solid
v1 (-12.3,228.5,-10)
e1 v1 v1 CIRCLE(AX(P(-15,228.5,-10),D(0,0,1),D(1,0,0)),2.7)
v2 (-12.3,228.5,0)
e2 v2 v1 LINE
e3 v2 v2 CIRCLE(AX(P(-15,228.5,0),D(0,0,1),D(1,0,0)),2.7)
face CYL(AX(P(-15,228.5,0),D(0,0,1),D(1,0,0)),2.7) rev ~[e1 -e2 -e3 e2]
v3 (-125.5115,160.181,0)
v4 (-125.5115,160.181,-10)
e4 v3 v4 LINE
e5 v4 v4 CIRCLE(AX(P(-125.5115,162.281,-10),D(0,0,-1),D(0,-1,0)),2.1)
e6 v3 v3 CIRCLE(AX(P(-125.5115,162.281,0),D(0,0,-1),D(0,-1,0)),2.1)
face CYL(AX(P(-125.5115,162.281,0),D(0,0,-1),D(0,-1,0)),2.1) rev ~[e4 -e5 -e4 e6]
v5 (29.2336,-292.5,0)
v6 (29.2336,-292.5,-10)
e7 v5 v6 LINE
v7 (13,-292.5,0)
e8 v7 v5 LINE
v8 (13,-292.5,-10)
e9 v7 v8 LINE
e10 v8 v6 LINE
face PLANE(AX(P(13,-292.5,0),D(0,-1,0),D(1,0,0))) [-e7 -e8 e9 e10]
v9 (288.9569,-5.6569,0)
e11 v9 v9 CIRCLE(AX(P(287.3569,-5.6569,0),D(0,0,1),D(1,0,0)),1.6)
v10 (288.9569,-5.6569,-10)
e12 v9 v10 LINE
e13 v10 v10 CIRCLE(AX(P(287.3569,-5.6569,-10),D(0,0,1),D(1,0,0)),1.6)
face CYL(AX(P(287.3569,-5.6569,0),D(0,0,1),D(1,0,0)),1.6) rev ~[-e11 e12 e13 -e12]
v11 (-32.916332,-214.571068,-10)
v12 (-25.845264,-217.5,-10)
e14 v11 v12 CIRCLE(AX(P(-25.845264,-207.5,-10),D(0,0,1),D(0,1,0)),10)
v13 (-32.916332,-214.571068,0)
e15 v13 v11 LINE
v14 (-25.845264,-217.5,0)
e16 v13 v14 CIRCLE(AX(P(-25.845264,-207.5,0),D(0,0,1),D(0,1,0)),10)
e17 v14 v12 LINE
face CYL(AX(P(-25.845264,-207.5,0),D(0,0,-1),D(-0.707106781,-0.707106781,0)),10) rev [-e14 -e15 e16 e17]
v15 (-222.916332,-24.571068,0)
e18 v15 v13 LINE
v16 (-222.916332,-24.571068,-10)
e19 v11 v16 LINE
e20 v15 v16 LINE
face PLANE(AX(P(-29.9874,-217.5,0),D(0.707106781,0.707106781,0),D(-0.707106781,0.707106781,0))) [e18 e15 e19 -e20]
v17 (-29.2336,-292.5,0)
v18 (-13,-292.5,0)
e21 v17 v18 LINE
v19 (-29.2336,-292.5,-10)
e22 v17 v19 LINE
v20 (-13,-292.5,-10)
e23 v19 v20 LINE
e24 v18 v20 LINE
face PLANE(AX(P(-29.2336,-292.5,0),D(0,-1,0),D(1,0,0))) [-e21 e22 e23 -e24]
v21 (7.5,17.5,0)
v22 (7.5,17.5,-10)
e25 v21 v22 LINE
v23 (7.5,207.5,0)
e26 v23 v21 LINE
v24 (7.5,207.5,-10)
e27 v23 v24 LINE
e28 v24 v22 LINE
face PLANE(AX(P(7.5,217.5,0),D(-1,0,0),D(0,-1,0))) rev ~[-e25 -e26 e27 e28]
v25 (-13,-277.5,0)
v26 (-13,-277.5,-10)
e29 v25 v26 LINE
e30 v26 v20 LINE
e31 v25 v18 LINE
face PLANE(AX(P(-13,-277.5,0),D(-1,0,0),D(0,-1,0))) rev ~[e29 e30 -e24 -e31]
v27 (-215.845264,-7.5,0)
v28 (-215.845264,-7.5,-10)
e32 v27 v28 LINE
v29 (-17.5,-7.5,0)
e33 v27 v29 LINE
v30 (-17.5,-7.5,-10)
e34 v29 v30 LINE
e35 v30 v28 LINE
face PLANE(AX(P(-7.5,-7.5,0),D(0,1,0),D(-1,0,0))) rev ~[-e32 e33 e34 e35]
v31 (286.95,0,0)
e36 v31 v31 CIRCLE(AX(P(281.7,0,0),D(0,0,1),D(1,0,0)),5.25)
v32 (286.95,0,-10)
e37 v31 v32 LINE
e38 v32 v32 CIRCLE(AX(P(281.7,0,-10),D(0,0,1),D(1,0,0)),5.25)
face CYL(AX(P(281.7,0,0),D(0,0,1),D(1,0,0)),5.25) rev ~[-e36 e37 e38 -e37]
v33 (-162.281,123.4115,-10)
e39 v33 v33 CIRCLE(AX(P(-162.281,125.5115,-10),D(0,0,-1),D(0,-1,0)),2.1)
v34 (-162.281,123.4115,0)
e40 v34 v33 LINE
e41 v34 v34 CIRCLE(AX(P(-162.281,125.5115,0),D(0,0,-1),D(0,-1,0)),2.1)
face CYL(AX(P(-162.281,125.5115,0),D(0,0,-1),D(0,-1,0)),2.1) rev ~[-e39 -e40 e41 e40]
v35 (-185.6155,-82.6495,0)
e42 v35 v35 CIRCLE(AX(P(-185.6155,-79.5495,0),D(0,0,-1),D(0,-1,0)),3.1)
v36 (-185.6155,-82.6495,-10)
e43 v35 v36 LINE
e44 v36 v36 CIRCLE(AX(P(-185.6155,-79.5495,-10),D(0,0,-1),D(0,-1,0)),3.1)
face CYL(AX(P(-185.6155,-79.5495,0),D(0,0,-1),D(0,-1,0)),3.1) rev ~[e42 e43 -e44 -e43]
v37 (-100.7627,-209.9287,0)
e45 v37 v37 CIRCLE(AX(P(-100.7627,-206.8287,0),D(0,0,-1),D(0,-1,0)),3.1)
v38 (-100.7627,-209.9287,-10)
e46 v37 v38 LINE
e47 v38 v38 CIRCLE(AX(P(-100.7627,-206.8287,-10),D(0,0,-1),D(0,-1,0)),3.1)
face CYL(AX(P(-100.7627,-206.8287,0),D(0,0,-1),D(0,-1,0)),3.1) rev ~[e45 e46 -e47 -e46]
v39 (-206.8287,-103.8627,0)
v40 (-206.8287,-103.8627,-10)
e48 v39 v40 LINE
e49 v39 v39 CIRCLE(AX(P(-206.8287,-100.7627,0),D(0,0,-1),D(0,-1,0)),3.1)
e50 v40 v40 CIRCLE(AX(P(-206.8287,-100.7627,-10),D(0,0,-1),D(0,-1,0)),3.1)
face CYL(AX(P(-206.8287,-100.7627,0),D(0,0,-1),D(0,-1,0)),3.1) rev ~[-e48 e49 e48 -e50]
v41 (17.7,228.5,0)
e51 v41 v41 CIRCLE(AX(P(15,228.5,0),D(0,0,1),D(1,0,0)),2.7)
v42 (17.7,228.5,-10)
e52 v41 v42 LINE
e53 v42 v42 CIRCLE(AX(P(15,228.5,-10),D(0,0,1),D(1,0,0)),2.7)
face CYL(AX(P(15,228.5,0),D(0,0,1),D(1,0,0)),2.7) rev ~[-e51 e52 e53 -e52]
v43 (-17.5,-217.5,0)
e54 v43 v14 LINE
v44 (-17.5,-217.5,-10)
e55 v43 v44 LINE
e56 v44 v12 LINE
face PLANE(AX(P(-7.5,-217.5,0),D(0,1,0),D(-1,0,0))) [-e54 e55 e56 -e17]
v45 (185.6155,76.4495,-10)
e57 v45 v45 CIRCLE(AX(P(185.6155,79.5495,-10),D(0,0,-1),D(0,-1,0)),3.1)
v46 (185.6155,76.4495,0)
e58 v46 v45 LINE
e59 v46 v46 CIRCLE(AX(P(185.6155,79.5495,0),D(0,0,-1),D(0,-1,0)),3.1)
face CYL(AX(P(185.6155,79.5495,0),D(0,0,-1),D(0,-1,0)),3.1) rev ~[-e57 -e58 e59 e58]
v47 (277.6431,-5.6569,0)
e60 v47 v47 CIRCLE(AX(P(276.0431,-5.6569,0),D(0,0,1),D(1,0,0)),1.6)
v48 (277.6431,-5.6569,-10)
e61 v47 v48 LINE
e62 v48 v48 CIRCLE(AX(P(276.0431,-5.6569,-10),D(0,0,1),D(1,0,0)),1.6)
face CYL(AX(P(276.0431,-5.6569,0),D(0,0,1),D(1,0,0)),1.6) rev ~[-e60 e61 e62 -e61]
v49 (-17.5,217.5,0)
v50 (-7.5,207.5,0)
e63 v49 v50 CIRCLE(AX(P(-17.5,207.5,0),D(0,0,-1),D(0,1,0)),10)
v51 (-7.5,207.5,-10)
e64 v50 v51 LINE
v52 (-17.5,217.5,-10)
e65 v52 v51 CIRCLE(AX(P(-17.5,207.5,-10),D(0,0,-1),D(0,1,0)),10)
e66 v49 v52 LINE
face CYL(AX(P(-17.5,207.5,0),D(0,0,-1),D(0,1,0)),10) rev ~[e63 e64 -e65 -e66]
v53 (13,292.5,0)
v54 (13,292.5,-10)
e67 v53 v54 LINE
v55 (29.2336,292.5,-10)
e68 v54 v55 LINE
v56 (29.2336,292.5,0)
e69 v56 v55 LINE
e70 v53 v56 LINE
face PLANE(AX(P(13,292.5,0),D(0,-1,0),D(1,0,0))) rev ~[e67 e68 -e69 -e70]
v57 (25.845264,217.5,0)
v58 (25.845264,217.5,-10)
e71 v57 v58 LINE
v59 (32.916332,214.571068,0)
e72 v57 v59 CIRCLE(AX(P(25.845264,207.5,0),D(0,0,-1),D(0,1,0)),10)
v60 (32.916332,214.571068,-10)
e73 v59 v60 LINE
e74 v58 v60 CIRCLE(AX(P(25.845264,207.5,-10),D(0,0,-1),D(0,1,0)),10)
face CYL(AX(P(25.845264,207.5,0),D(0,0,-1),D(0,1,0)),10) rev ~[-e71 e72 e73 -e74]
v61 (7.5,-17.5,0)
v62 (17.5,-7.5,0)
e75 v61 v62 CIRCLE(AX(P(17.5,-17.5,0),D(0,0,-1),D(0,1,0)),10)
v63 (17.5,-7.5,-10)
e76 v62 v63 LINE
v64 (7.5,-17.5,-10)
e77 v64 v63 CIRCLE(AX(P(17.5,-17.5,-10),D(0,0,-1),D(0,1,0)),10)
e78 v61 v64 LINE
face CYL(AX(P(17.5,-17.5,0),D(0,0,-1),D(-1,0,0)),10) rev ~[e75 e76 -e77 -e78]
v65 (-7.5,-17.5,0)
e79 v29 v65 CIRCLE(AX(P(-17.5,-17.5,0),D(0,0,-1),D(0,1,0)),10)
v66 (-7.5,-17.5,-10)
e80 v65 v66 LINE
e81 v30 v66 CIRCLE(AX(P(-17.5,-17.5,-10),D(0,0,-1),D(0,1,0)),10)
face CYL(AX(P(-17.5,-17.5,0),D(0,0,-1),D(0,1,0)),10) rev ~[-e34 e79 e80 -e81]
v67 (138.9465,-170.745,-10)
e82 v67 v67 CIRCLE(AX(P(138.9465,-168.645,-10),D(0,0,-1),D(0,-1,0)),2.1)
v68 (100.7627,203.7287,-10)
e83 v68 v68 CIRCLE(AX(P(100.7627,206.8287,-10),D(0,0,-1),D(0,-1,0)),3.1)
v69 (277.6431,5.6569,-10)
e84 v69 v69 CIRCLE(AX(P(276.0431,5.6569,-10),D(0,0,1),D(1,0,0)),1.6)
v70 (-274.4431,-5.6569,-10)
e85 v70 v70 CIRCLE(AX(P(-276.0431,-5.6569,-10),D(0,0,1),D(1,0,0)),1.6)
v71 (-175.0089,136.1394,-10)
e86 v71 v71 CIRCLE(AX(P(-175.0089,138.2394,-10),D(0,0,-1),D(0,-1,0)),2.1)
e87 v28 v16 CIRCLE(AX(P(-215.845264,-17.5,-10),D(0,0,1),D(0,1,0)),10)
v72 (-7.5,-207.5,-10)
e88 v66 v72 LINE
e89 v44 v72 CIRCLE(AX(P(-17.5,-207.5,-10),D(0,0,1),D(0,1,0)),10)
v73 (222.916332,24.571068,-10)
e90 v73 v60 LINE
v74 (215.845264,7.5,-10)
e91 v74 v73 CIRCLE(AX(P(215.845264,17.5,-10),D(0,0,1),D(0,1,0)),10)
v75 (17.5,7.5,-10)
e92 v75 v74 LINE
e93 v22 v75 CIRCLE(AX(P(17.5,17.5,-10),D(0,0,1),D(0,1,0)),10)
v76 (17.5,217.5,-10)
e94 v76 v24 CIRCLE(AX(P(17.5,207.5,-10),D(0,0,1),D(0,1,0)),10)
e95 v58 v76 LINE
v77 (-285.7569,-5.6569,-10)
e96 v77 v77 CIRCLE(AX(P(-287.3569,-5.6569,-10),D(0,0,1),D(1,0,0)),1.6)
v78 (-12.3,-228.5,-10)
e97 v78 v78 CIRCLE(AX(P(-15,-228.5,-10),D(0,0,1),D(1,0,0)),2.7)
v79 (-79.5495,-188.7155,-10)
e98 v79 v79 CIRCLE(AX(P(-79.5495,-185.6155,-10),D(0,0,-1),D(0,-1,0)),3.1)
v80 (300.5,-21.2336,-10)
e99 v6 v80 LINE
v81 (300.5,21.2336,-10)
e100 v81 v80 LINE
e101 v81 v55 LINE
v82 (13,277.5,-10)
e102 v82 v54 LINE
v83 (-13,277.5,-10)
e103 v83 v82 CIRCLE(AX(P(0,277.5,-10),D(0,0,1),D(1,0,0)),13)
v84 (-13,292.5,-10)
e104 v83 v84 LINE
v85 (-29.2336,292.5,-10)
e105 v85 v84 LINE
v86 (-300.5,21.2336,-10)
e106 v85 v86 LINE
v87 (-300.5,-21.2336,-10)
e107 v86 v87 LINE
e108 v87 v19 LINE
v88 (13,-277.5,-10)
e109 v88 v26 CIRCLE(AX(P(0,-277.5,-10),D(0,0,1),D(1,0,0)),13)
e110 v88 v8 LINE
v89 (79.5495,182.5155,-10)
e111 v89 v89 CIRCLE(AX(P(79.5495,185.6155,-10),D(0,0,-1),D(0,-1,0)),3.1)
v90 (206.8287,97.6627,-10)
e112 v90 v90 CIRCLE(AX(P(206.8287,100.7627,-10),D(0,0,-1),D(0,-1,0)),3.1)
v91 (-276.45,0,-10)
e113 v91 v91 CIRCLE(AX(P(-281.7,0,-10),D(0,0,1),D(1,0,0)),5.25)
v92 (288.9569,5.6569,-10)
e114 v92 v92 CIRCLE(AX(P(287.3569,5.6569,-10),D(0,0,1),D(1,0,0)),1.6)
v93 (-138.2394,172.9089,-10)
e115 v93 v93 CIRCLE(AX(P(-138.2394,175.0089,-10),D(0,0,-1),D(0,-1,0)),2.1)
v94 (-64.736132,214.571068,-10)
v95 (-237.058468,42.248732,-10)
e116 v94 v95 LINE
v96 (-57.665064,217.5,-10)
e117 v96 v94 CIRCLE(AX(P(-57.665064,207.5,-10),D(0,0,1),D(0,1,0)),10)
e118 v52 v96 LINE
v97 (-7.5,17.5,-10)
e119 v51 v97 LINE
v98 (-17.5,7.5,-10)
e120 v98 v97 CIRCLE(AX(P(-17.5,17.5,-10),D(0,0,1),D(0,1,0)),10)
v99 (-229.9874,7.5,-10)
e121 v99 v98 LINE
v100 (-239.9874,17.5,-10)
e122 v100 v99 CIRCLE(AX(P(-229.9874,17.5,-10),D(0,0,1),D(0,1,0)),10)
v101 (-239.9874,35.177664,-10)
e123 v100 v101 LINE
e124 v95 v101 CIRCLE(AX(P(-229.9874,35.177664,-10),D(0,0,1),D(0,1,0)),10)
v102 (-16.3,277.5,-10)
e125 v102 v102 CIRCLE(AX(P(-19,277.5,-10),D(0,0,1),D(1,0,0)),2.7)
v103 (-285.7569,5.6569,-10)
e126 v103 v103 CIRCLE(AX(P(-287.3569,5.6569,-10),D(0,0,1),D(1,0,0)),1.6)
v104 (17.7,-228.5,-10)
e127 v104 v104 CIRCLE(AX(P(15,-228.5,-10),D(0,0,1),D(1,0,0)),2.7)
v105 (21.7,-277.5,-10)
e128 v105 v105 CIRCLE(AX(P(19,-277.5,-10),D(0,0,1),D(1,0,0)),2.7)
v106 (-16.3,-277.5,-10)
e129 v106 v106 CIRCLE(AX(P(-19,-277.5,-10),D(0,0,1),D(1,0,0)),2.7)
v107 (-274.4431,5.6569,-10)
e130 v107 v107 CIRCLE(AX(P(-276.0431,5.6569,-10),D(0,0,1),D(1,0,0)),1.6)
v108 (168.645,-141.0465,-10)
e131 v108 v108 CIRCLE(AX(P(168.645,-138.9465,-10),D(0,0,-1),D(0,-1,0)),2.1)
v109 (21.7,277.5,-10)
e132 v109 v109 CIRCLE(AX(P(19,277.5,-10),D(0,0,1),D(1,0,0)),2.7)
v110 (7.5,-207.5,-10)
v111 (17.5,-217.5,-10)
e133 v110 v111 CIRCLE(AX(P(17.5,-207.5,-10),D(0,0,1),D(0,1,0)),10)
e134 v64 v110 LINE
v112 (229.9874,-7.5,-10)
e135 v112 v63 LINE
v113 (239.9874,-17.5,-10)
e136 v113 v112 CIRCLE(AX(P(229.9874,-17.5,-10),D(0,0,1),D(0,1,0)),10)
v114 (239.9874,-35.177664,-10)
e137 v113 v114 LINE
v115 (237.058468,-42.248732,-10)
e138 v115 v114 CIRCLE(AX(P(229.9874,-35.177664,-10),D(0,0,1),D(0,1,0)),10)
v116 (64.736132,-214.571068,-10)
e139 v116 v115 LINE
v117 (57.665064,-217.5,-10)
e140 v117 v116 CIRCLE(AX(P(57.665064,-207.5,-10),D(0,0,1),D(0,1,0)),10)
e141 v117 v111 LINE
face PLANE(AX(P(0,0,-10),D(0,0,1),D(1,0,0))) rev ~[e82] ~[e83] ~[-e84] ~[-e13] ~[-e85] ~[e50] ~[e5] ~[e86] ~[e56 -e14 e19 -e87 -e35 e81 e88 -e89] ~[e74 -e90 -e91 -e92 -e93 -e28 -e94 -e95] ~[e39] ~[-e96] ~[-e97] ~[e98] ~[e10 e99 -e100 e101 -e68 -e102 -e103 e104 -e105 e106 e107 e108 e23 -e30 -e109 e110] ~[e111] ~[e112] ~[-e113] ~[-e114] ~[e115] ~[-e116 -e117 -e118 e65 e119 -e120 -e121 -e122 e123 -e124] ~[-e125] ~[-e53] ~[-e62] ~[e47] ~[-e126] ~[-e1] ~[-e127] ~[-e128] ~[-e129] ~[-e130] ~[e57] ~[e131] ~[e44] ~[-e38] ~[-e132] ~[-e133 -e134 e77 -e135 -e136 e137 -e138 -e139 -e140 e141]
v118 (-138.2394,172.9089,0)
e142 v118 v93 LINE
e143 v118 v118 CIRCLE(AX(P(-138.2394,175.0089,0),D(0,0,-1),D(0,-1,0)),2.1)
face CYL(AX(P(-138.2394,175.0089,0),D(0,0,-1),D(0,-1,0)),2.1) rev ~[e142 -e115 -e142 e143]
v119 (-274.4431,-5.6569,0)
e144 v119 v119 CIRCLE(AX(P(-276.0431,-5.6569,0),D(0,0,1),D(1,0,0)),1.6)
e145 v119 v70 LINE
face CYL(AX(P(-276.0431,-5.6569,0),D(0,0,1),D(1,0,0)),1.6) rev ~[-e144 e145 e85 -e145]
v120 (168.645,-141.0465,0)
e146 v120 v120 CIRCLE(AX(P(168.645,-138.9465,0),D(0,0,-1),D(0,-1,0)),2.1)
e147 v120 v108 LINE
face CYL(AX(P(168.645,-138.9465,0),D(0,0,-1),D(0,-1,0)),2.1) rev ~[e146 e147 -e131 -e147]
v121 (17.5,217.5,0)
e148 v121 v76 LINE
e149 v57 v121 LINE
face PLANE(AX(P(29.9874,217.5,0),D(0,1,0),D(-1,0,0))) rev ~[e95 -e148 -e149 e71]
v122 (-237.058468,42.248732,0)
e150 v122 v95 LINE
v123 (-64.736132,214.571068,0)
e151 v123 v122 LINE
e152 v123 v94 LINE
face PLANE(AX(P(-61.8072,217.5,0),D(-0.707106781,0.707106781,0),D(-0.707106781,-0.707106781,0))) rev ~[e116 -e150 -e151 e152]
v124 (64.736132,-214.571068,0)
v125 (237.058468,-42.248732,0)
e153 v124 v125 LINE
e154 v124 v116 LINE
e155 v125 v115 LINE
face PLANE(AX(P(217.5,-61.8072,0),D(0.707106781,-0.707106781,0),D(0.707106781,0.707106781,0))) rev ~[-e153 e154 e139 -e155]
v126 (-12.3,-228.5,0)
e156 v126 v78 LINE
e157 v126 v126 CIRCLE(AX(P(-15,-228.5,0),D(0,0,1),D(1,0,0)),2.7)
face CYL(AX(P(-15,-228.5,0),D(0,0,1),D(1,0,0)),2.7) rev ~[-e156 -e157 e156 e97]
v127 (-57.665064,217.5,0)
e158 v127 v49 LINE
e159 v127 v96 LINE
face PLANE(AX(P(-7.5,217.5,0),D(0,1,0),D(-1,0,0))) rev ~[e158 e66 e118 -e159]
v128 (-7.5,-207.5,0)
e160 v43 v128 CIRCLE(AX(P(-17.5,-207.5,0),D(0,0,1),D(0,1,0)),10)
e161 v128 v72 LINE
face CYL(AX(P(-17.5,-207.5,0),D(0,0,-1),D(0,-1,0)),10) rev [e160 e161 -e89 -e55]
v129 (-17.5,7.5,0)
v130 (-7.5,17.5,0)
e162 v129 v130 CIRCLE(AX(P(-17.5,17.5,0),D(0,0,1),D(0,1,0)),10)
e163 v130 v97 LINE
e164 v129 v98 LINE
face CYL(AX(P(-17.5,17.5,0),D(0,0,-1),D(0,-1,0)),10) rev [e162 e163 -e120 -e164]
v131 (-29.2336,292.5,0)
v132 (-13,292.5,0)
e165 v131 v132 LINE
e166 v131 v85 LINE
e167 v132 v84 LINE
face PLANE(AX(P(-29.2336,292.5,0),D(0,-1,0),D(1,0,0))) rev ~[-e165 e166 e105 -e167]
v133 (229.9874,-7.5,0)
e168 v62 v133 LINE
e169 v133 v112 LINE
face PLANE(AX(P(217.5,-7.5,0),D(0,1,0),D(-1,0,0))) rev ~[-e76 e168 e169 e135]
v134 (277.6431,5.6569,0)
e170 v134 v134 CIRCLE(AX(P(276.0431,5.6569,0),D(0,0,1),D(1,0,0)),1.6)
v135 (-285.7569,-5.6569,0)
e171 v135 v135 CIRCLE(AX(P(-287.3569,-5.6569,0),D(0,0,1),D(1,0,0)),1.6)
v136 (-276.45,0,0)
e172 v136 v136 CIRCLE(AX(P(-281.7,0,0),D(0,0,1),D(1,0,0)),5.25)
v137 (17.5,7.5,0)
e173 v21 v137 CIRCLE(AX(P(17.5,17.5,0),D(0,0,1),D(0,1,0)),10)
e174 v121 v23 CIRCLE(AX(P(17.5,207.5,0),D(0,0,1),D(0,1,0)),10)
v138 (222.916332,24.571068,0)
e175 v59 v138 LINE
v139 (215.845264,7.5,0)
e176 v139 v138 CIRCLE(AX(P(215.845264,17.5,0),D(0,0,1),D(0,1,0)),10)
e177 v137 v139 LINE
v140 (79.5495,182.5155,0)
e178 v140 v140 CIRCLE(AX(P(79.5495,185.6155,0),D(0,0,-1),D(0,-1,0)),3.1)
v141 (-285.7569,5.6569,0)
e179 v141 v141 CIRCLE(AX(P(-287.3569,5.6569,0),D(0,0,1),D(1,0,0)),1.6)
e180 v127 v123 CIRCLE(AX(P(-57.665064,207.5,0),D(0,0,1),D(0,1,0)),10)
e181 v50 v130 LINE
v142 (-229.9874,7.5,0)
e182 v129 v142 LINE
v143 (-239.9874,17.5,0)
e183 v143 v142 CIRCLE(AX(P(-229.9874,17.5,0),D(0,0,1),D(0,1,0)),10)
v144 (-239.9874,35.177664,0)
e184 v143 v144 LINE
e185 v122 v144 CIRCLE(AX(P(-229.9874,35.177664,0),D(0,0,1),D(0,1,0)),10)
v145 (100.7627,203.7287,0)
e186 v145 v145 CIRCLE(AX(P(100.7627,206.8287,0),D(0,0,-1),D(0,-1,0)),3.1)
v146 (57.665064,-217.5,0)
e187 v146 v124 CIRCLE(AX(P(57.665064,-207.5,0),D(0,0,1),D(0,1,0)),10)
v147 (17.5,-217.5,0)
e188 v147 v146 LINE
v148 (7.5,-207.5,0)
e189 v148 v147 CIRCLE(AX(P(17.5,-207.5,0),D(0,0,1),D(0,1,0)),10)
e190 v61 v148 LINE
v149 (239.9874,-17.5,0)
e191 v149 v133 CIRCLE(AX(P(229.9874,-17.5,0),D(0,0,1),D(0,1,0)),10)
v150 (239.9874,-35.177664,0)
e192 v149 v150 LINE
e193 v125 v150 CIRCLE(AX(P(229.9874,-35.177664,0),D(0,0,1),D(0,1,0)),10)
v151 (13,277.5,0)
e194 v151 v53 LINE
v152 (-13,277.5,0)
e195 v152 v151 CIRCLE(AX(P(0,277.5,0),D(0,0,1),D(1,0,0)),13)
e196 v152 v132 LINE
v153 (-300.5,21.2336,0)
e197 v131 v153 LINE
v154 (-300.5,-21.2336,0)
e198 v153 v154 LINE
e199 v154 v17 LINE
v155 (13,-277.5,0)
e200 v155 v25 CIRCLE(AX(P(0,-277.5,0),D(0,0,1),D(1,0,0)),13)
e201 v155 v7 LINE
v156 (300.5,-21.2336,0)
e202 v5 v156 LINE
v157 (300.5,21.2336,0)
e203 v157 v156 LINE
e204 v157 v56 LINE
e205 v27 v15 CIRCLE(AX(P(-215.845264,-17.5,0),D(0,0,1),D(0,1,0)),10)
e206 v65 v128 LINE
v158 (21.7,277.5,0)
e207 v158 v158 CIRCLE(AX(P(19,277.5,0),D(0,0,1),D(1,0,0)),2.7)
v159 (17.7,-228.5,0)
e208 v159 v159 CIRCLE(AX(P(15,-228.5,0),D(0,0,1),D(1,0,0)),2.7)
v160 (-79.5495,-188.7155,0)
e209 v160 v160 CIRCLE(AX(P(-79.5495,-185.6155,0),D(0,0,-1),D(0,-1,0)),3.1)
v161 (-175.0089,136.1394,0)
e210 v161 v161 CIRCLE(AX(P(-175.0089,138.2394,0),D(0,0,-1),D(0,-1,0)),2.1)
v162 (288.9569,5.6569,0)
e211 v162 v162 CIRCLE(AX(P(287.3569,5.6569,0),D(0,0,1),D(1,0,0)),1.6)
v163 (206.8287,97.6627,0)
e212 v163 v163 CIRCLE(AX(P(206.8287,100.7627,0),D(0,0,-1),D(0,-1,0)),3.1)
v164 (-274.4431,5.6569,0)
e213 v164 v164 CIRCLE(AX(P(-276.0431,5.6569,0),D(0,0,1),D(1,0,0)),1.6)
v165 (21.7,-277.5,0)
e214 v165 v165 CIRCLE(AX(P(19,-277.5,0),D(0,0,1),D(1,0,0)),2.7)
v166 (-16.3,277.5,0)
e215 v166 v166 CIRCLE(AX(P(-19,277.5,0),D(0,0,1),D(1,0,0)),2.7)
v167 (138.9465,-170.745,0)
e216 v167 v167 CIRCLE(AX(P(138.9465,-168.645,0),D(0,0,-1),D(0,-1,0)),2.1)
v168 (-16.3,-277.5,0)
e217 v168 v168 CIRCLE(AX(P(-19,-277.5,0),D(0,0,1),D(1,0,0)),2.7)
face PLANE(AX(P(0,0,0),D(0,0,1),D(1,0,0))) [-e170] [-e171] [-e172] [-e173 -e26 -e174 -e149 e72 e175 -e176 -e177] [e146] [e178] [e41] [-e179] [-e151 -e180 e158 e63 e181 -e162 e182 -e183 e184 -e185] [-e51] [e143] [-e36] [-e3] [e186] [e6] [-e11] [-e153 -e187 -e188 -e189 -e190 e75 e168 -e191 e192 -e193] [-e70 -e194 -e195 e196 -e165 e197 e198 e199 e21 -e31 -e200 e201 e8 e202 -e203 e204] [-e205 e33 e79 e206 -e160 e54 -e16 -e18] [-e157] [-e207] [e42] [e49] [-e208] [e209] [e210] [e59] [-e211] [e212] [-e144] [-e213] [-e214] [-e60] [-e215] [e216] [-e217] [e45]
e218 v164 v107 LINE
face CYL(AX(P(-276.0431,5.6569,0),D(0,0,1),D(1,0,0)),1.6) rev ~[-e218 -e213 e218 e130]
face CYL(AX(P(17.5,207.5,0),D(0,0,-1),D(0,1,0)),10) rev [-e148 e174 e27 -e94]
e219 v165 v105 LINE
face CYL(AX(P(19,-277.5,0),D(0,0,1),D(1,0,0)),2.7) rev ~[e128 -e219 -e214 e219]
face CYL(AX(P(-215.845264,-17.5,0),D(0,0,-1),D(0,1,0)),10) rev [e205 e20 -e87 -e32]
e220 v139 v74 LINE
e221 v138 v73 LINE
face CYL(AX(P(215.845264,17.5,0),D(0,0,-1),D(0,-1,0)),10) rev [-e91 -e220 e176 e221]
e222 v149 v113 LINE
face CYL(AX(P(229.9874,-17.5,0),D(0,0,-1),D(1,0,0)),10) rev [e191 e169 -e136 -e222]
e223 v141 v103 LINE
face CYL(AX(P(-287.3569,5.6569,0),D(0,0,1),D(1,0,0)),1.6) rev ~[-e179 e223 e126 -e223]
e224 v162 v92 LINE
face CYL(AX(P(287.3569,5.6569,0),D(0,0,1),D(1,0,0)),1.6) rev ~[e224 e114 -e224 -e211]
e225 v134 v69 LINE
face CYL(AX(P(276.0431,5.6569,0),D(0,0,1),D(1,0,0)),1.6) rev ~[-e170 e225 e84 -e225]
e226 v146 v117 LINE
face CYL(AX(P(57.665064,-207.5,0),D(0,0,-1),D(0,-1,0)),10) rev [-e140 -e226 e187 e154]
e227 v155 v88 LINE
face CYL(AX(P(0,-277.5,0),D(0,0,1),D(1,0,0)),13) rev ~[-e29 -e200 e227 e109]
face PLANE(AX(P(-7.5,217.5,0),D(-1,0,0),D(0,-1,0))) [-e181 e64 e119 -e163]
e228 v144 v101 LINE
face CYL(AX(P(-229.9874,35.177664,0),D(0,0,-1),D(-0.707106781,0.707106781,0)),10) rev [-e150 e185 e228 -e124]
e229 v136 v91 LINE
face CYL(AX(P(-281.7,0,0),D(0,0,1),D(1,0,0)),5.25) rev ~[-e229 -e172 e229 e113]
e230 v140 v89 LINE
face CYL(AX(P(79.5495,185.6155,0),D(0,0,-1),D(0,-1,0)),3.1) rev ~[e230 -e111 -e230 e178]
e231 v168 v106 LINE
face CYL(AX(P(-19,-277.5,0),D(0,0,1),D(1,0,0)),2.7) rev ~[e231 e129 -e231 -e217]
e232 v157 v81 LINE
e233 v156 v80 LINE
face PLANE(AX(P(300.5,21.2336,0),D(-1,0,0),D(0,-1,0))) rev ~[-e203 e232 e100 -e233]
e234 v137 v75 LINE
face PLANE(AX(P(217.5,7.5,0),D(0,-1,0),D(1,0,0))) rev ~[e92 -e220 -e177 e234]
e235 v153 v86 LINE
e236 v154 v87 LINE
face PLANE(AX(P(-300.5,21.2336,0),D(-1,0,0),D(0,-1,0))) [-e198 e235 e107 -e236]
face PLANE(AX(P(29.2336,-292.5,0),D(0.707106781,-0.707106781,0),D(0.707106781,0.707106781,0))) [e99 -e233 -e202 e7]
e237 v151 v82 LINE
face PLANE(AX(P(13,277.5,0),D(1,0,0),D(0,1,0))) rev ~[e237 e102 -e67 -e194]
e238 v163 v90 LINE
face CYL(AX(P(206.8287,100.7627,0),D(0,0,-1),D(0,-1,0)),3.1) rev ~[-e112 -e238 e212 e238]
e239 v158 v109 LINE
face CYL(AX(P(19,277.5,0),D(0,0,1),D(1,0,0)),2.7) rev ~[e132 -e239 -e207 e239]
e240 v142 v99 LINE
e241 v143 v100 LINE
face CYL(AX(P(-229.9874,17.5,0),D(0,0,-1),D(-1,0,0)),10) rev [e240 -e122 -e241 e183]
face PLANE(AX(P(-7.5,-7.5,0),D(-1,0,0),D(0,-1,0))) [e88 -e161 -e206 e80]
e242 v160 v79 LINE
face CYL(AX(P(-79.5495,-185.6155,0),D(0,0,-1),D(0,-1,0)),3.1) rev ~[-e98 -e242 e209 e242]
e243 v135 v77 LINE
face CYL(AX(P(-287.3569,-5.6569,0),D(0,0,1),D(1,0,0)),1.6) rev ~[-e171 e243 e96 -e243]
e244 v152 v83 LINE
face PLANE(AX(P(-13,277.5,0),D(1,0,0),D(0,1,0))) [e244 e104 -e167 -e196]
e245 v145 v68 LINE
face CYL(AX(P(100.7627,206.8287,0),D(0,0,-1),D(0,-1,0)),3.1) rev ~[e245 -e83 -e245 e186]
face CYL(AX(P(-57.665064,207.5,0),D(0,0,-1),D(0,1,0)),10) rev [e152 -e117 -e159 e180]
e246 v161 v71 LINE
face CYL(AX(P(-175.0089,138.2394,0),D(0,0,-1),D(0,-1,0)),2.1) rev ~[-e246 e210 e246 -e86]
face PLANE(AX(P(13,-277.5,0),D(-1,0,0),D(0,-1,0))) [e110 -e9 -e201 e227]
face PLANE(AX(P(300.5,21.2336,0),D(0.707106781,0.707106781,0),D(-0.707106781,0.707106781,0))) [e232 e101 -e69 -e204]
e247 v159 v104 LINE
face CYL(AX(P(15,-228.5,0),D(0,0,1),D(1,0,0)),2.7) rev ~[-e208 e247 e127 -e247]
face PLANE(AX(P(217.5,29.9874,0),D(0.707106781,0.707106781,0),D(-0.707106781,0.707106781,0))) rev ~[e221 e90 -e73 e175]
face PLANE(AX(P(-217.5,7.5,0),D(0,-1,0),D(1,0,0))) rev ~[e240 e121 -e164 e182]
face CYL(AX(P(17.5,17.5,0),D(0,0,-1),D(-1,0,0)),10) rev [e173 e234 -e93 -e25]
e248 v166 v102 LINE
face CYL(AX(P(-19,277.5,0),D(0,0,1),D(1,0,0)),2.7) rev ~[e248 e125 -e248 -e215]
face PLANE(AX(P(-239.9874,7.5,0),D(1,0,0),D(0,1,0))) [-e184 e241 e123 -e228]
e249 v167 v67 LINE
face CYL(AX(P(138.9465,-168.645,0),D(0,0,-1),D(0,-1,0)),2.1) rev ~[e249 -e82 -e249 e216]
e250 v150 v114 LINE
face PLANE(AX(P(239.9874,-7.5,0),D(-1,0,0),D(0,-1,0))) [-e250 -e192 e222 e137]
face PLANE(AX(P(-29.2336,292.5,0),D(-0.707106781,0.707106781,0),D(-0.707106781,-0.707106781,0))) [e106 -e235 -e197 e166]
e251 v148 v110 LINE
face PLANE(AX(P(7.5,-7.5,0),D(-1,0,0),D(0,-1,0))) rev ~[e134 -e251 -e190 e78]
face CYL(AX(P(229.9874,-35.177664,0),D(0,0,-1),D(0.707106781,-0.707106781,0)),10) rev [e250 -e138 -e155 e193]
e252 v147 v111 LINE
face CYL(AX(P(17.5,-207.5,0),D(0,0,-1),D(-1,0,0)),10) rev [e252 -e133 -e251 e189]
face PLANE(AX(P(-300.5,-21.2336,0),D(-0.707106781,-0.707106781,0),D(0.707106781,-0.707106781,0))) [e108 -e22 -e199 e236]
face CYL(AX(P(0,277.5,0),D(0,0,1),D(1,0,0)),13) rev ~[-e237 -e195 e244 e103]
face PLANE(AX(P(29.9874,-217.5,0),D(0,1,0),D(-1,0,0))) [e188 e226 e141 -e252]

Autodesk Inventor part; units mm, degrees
ref_plane "YZ Plane" through (0, 0, 0) normal (1, 0, 0) x (0, 1, 0)
ref_plane "XZ Plane" through (0, 0, 0) normal (0, 1, 0) x (-1, 0, 0)
sketch "Sketch2" plane through (0, 0, 0) normal (0, 0, 1) x (1, 0, 0)
  circle A0 centre (0, 277.5) radius 8 construction
  circle A1 centre (0, 277.5) radius 13
  circle A2 centre (0, 277.5) radius 10.5 construction
  line L0 (25, 287.5) -> (-25, 287.5) construction
  line L1 (-25, 287.5) -> (-25, 222.5) construction
  line L2 (-25, 222.5) -> (25, 222.5) construction
  line L3 (25, 222.5) -> (25, 287.5) construction
  circle A3 centre (15, 228.5) radius 2.7
  circle A4 centre (-15, 228.5) radius 2.7
  circle A5 centre (-19, 277.5) radius 2.7
  circle A6 centre (19, 277.5) radius 2.7
  circle A7 centre (0, -277.5) radius 8 construction
  circle A8 centre (0, -277.5) radius 13
  circle A9 centre (0, -277.5) radius 10.5 construction
  line L4 (25, -287.5) -> (-25, -287.5) construction
  line L5 (-25, -287.5) -> (-25, -222.5) construction
  line L6 (-25, -222.5) -> (25, -222.5) construction
  line L7 (25, -222.5) -> (25, -287.5) construction
  circle A10 centre (-15, -228.5) radius 2.7
  circle A11 centre (15, -228.5) radius 2.7
  circle A12 centre (-19, -277.5) radius 2.7
  circle A13 centre (19, -277.5) radius 2.7
  line L8 (10.5, -277.5) -> (10.5, -287.5) construction
  line L9 (-10.5, -277.5) -> (-10.5, -287.5) construction
  line L10 (10.5, 277.5) -> (10.5, 287.5) construction
  line L11 (-10.5, 277.5) -> (-10.5, 287.5) construction
  circle A14 centre (281.7, 0) radius 5.25
  circle A15 centre (-281.7, 0) radius 5.25
  line L12 (0, -321.7336) -> (321.7336, 0)
  line L13 (321.7336, 0) -> (0, 321.7336)
  line L14 (0, 321.7336) -> (-321.7336, 0)
  line L15 (-321.7336, 0) -> (0, -321.7336)
  line L16 (321.7336, 0) -> (-321.7336, 0) construction
  line L17 (0, -321.7336) -> (455, -321.7336) construction
  line L18 (300.5, 21.2336) -> (300.5, -21.2336)
  line L19 (-300.5, 21.2336) -> (-300.5, -21.2336)
  line L20 (-24.2336, 297.5) -> (24.2336, 297.5) construction
  line L21 (-29.2336, 292.5) -> (29.2336, 292.5)
  line L22 (-24.2336, -297.5) -> (24.2336, -297.5) construction
  line L23 (-29.2336, -292.5) -> (29.2336, -292.5)
  line L24 (-9.5, 297.5) -> (-3.976, 284.442) construction
  line L25 (9.5, 297.5) -> (3.976, 284.442) construction
  line L26 (-14.929, 297.5) -> (-9.9883, 285.8207)
  line L27 (14.929, 297.5) -> (9.9883, 285.8207)
  line L28 (-9.5, -297.5) -> (-3.976, -284.442) construction
  line L29 (9.5, -297.5) -> (3.976, -284.442) construction
  line L30 (14.929, -297.5) -> (9.9883, -285.8207)
  line L31 (-14.929, -297.5) -> (-9.9883, -285.8207)
  line L32 (13, 277.5) -> (13, 292.5)
  line L33 (-13, 277.5) -> (-13, 292.5)
  line L34 (-13, -277.5) -> (-13, -292.5)
  line L35 (13, -277.5) -> (13, -292.5)
  line L36 (281.7, 0) -> (287.3569, 5.6569) construction
  line L37 (281.7, 0) -> (289.7, 0) construction
  circle A16 centre (287.3569, 5.6569) radius 1.6
  circle A17 centre (276.0431, 5.6569) radius 1.6
  circle A18 centre (276.0431, -5.6569) radius 1.6
  circle A19 centre (287.3569, -5.6569) radius 1.6
  line L38 (-281.7, 0) -> (-287.3569, 5.6569) construction
  circle A20 centre (-287.3569, 5.6569) radius 1.6
  circle A21 centre (-287.3569, -5.6569) radius 1.6
  circle A22 centre (-276.0431, -5.6569) radius 1.6
  circle A23 centre (-276.0431, 5.6569) radius 1.6
  line L39 (0, -321.7336) -> (0, 321.7336) construction
  point P0 (0, 0)
  point P1 (-12.8138, -292.5)
  point P2 (12.8138, -292.5)
  point P3 (12.8138, 292.5)
  point P4 (-12.8138, 292.5)
  point P5 (300.5, 292.5)
  point P6 (300.5, -292.5)
  point P7 (-300.5, -292.5)
  point P8 (-300.5, 292.5)
  dimension "d256" = 16
  dimension "d258" = 277.5
  dimension "d259" = 26
  dimension "d260" = 21
  dimension "d262" = 10
  dimension "d263" = 65
  dimension "d271" = 6
  dimension "d272" = 10
  dimension "d275" = 6
  dimension "d276" = 10
  dimension "d285" = 10
  dimension "d300" = 10.5
  dimension "d302" = 281.7
  dimension "d321" = 45
  dimension "d322" = 455
  dimension "d323" = 18.8
  dimension "d325" = 20
  dimension "d326" = 15
  dimension "d330" = 67.07
  dimension "d331" = 9.5
  dimension "d336" = 14.929
  dimension "d391" = 8
  dimension "d392" = 45
  dimension "d394" = 3.2
  dimension "d397" = 360
  dimension "d399" = 8
  dimension "d400" = 45
  dimension "d404" = 360
  dimension "d432" = 5.4
  dimension "d433" = 50
ref_plane "Work Plane1" through (0, 0, 0) normal (0, 0, 1) x (1, 0, 0)
sketch "Sketch3" plane through (0, 0, 0) normal (0, 0, 1) x (1, 0, 0)
  line L0 (-160.8668, -160.8668) -> (160.8668, 160.8668) construction
  line L1 (-160.8668, -160.8668) -> (294.1332, -160.8668) construction
  line L2 (279.5102, 35.1523) -> (35.1523, 279.5102) construction
  line L3 (35.1523, 279.5102) -> (6.8681, 251.2259) construction
  line L4 (6.8681, 251.2259) -> (251.2259, 6.8681) construction
  line L5 (251.2259, 6.8681) -> (279.5102, 35.1523) construction
  circle A0 centre (19, 277.5) radius 2.7 projected
  circle A1 centre (15, 228.5) radius 2.7 projected
  line L6 (-35.1523, -279.5102) -> (-279.5102, -35.1523) construction
  line L7 (-279.5102, -35.1523) -> (-251.2259, -6.8681) construction
  line L8 (-251.2259, -6.8681) -> (-6.8681, -251.2259) construction
  line L9 (-6.8681, -251.2259) -> (-35.1523, -279.5102) construction
  circle A2 centre (-79.5495, -185.6155) radius 3.1
  circle A3 centre (-100.7627, -206.8287) radius 3.1
  circle A4 centre (-185.6155, -79.5495) radius 3.1
  circle A5 centre (-206.8287, -100.7627) radius 3.1
  line L10 (-160.8668, 160.8668) -> (160.8668, -160.8668) construction
  circle A6 centre (206.8287, 100.7627) radius 3.1
  circle A7 centre (185.6155, 79.5495) radius 3.1
  circle A8 centre (100.7627, 206.8287) radius 3.1
  circle A9 centre (79.5495, 185.6155) radius 3.1
  line L11 (-175.0089, 138.2394) -> (-138.2394, 175.0089) construction
  line L12 (-138.2394, 175.0089) -> (-125.5115, 162.281) construction
  line L13 (-125.5115, 162.281) -> (-162.281, 125.5115) construction
  line L14 (-162.281, 125.5115) -> (-175.0089, 138.2394) construction
  circle A10 centre (-138.2394, 175.0089) radius 2.1
  circle A11 centre (-125.5115, 162.281) radius 2.1
  circle A12 centre (-162.281, 125.5115) radius 2.1
  circle A13 centre (-175.0089, 138.2394) radius 2.1
  line L15 (-162.281, 125.5115) -> (-138.2394, 175.0089) construction
  line L16 (-175.0089, 138.2394) -> (-125.5115, 162.281) construction
  line L17 (138.9465, -168.645) -> (168.645, -138.9465) construction
  circle A14 centre (168.645, -138.9465) radius 2.1
  circle A15 centre (138.9465, -168.645) radius 2.1
  line L18 (21.0102, 265.3681) -> (265.3681, 21.0102) construction
  line L19 (-265.3681, -21.0102) -> (-21.0102, -265.3681) construction
  point P0 (0, 0)
  point P1 (-150.2602, 150.2602)
  point P2 (153.7957, -153.7957)
  dimension "d349" = 455
  dimension "d350" = 45
  dimension "d353" = 40
  dimension "d354" = 10
  dimension "d362" = 75
  dimension "d363" = 5
  dimension "d365" = 5
  dimension "d366" = 75
  dimension "d370" = 5
  dimension "d371" = 75
  dimension "d373" = 5
  dimension "d374" = 75
  dimension "d436" = 52
  dimension "d437" = 18
  dimension "d438" = 221.5
  dimension "d439" = 4.2
  dimension "d440" = 42
  dimension "d442" = 217.5
  dimension "d450" = 6.2
  dimension "d482" = 405
extrude "Extrusion12" add sketch "Sketch2" against normal blind 10 contours L32 L21 L13 L18 L12 L23 L35 A8 L34 L15 L19 L14 L33 A1
hole "Hole2" at (100.7627, 206.8287, 0) at (79.5495, 185.6155, 0) at (206.8287, 100.7627, 0) at (185.6155, 79.5495, 0) at (-79.5495, -185.6155, 0) at (-100.7627, -206.8287, 0) at (-185.6155, -79.5495, 0) at (-206.8287, -100.7627, 0) direction (0, 0, -1) diameter 6.2 end through all
hole "Hole4" at (-175.0089, 138.2394, 0) at (-162.281, 125.5115, 0) at (-125.5115, 162.281, 0) at (-138.2394, 175.0089, 0) at (168.645, -138.9465, 0) at (138.9465, -168.645, 0) direction (0, 0, -1) diameter 4.2 end through all
sketch "Sketch5" plane through (0, 0, 0) normal (0, 0, 1) x (1, 0, 0)
  line L0 (29.9874, 217.5) -> (-61.8072, 217.5)
  line L1 (139.6536, -139.6536) -> (-139.6536, 139.6536) construction
  line L2 (-29.9874, -217.5) -> (-263.3973, 15.9099)
  line L3 (61.8072, -217.5) -> (-29.9874, -217.5)
  line L4 (247.4874, 0) -> (-247.4874, 0) construction
  line L5 (-61.8072, 217.5) -> (-263.3973, 15.9099)
  line L6 (61.8072, -217.5) -> (263.3973, -15.9099)
  line L7 (0, -217.5) -> (0, 217.5) construction
  line L8 (263.3973, -15.9099) -> (29.9874, 217.5)
  line L9 (-123.7437, -123.7437) -> (123.7437, 123.7437) construction
  line L10 (-217.5, 61.8072) -> (-217.5, -29.9874)
  line L11 (217.5, 29.9874) -> (217.5, -61.8072)
  line L12 (-247.4874, 0) -> (-29.9874, 217.5)
  line L13 (247.4874, 0) -> (29.9874, -217.5)
  line L14 (-7.5, 217.5) -> (-7.5, -217.5)
  line L15 (7.5, 217.5) -> (7.5, -217.5)
  line L16 (-239.9874, 7.5) -> (239.9874, 7.5)
  line L17 (239.9874, -7.5) -> (-239.9874, -7.5)
  line L18 (-239.9874, -7.5) -> (-239.9874, 39.3198)
  line L19 (239.9874, 7.5) -> (239.9874, -39.3198)
  point P0 (0, 0)
  point P1 (-7.5, -7.5)
  point P2 (7.5, -7.5)
  point P3 (-7.5, 7.5)
  point P4 (7.5, 7.5)
  point P5 (217.5, -29.9874)
  point P6 (-217.5, 29.9874)
  dimension "d460" = 197.5
  dimension "d461" = 197.5
  dimension "d465" = 175
  dimension "d466" = 217.5
  dimension "d467" = 45
  dimension "d468" = 217.5
  dimension "d469" = 175
  dimension "d473" = 15
  dimension "d475" = 15
extrude "Extrusion15" cut sketch "Sketch5" against normal blind 217.5 contours L8 L11 L16 L15 L0 | L8 L16 L11 | L14 L16 L10 L12 L0 | L12 L10 L5 L0 | L17 L11 L13 L3 L15 | L19 L6 L11 L13 | L13 L11 L17 | L12 L18 L5 L10 | L10 L16 L12 | L14 L3 L2 L10 L17 | L11 L6 L3 L13 | L10 L2 L17
fillet "Fillet2" radius 10 18 edges at (-61.8072, 217.5, -5) (29.9874, 217.5, -5) (-7.5, 217.5, -5) (239.9874, -7.5, -5) (-7.5, -7.5, -5) (239.9874, -39.3198, -5) (61.8072, -217.5, -5) (-7.5, -217.5, -5) (-7.5, 7.5, -5) (-29.9874, -217.5, -5) (7.5, 7.5, -5) (-239.9874, 7.5, -5) (-239.9874, 39.3198, -5) (7.5, -7.5, -5) (7.5, 217.5, -5) (7.5, -217.5, -5) (239.9874, 7.5, -5) (-239.9874, -7.5, -5)
equation "\"dist_rails\" = 555"
equation "\"dist_leadscrews\" = 563.4"
equation "\"diam_leadscrew_hole\" = 10.5"
equation "\"z_plate_width\" = 455"
equation "\"delta\" = 5"
equation "\"rail_angle\" = 67.07deg"
equation "\"rail_D\" = 9.5"
equation "\"rail_diam\" = 16"
equation "\"rail_dist\" = 405"
properties part number "z_plate" material "Aluminum 6061"
